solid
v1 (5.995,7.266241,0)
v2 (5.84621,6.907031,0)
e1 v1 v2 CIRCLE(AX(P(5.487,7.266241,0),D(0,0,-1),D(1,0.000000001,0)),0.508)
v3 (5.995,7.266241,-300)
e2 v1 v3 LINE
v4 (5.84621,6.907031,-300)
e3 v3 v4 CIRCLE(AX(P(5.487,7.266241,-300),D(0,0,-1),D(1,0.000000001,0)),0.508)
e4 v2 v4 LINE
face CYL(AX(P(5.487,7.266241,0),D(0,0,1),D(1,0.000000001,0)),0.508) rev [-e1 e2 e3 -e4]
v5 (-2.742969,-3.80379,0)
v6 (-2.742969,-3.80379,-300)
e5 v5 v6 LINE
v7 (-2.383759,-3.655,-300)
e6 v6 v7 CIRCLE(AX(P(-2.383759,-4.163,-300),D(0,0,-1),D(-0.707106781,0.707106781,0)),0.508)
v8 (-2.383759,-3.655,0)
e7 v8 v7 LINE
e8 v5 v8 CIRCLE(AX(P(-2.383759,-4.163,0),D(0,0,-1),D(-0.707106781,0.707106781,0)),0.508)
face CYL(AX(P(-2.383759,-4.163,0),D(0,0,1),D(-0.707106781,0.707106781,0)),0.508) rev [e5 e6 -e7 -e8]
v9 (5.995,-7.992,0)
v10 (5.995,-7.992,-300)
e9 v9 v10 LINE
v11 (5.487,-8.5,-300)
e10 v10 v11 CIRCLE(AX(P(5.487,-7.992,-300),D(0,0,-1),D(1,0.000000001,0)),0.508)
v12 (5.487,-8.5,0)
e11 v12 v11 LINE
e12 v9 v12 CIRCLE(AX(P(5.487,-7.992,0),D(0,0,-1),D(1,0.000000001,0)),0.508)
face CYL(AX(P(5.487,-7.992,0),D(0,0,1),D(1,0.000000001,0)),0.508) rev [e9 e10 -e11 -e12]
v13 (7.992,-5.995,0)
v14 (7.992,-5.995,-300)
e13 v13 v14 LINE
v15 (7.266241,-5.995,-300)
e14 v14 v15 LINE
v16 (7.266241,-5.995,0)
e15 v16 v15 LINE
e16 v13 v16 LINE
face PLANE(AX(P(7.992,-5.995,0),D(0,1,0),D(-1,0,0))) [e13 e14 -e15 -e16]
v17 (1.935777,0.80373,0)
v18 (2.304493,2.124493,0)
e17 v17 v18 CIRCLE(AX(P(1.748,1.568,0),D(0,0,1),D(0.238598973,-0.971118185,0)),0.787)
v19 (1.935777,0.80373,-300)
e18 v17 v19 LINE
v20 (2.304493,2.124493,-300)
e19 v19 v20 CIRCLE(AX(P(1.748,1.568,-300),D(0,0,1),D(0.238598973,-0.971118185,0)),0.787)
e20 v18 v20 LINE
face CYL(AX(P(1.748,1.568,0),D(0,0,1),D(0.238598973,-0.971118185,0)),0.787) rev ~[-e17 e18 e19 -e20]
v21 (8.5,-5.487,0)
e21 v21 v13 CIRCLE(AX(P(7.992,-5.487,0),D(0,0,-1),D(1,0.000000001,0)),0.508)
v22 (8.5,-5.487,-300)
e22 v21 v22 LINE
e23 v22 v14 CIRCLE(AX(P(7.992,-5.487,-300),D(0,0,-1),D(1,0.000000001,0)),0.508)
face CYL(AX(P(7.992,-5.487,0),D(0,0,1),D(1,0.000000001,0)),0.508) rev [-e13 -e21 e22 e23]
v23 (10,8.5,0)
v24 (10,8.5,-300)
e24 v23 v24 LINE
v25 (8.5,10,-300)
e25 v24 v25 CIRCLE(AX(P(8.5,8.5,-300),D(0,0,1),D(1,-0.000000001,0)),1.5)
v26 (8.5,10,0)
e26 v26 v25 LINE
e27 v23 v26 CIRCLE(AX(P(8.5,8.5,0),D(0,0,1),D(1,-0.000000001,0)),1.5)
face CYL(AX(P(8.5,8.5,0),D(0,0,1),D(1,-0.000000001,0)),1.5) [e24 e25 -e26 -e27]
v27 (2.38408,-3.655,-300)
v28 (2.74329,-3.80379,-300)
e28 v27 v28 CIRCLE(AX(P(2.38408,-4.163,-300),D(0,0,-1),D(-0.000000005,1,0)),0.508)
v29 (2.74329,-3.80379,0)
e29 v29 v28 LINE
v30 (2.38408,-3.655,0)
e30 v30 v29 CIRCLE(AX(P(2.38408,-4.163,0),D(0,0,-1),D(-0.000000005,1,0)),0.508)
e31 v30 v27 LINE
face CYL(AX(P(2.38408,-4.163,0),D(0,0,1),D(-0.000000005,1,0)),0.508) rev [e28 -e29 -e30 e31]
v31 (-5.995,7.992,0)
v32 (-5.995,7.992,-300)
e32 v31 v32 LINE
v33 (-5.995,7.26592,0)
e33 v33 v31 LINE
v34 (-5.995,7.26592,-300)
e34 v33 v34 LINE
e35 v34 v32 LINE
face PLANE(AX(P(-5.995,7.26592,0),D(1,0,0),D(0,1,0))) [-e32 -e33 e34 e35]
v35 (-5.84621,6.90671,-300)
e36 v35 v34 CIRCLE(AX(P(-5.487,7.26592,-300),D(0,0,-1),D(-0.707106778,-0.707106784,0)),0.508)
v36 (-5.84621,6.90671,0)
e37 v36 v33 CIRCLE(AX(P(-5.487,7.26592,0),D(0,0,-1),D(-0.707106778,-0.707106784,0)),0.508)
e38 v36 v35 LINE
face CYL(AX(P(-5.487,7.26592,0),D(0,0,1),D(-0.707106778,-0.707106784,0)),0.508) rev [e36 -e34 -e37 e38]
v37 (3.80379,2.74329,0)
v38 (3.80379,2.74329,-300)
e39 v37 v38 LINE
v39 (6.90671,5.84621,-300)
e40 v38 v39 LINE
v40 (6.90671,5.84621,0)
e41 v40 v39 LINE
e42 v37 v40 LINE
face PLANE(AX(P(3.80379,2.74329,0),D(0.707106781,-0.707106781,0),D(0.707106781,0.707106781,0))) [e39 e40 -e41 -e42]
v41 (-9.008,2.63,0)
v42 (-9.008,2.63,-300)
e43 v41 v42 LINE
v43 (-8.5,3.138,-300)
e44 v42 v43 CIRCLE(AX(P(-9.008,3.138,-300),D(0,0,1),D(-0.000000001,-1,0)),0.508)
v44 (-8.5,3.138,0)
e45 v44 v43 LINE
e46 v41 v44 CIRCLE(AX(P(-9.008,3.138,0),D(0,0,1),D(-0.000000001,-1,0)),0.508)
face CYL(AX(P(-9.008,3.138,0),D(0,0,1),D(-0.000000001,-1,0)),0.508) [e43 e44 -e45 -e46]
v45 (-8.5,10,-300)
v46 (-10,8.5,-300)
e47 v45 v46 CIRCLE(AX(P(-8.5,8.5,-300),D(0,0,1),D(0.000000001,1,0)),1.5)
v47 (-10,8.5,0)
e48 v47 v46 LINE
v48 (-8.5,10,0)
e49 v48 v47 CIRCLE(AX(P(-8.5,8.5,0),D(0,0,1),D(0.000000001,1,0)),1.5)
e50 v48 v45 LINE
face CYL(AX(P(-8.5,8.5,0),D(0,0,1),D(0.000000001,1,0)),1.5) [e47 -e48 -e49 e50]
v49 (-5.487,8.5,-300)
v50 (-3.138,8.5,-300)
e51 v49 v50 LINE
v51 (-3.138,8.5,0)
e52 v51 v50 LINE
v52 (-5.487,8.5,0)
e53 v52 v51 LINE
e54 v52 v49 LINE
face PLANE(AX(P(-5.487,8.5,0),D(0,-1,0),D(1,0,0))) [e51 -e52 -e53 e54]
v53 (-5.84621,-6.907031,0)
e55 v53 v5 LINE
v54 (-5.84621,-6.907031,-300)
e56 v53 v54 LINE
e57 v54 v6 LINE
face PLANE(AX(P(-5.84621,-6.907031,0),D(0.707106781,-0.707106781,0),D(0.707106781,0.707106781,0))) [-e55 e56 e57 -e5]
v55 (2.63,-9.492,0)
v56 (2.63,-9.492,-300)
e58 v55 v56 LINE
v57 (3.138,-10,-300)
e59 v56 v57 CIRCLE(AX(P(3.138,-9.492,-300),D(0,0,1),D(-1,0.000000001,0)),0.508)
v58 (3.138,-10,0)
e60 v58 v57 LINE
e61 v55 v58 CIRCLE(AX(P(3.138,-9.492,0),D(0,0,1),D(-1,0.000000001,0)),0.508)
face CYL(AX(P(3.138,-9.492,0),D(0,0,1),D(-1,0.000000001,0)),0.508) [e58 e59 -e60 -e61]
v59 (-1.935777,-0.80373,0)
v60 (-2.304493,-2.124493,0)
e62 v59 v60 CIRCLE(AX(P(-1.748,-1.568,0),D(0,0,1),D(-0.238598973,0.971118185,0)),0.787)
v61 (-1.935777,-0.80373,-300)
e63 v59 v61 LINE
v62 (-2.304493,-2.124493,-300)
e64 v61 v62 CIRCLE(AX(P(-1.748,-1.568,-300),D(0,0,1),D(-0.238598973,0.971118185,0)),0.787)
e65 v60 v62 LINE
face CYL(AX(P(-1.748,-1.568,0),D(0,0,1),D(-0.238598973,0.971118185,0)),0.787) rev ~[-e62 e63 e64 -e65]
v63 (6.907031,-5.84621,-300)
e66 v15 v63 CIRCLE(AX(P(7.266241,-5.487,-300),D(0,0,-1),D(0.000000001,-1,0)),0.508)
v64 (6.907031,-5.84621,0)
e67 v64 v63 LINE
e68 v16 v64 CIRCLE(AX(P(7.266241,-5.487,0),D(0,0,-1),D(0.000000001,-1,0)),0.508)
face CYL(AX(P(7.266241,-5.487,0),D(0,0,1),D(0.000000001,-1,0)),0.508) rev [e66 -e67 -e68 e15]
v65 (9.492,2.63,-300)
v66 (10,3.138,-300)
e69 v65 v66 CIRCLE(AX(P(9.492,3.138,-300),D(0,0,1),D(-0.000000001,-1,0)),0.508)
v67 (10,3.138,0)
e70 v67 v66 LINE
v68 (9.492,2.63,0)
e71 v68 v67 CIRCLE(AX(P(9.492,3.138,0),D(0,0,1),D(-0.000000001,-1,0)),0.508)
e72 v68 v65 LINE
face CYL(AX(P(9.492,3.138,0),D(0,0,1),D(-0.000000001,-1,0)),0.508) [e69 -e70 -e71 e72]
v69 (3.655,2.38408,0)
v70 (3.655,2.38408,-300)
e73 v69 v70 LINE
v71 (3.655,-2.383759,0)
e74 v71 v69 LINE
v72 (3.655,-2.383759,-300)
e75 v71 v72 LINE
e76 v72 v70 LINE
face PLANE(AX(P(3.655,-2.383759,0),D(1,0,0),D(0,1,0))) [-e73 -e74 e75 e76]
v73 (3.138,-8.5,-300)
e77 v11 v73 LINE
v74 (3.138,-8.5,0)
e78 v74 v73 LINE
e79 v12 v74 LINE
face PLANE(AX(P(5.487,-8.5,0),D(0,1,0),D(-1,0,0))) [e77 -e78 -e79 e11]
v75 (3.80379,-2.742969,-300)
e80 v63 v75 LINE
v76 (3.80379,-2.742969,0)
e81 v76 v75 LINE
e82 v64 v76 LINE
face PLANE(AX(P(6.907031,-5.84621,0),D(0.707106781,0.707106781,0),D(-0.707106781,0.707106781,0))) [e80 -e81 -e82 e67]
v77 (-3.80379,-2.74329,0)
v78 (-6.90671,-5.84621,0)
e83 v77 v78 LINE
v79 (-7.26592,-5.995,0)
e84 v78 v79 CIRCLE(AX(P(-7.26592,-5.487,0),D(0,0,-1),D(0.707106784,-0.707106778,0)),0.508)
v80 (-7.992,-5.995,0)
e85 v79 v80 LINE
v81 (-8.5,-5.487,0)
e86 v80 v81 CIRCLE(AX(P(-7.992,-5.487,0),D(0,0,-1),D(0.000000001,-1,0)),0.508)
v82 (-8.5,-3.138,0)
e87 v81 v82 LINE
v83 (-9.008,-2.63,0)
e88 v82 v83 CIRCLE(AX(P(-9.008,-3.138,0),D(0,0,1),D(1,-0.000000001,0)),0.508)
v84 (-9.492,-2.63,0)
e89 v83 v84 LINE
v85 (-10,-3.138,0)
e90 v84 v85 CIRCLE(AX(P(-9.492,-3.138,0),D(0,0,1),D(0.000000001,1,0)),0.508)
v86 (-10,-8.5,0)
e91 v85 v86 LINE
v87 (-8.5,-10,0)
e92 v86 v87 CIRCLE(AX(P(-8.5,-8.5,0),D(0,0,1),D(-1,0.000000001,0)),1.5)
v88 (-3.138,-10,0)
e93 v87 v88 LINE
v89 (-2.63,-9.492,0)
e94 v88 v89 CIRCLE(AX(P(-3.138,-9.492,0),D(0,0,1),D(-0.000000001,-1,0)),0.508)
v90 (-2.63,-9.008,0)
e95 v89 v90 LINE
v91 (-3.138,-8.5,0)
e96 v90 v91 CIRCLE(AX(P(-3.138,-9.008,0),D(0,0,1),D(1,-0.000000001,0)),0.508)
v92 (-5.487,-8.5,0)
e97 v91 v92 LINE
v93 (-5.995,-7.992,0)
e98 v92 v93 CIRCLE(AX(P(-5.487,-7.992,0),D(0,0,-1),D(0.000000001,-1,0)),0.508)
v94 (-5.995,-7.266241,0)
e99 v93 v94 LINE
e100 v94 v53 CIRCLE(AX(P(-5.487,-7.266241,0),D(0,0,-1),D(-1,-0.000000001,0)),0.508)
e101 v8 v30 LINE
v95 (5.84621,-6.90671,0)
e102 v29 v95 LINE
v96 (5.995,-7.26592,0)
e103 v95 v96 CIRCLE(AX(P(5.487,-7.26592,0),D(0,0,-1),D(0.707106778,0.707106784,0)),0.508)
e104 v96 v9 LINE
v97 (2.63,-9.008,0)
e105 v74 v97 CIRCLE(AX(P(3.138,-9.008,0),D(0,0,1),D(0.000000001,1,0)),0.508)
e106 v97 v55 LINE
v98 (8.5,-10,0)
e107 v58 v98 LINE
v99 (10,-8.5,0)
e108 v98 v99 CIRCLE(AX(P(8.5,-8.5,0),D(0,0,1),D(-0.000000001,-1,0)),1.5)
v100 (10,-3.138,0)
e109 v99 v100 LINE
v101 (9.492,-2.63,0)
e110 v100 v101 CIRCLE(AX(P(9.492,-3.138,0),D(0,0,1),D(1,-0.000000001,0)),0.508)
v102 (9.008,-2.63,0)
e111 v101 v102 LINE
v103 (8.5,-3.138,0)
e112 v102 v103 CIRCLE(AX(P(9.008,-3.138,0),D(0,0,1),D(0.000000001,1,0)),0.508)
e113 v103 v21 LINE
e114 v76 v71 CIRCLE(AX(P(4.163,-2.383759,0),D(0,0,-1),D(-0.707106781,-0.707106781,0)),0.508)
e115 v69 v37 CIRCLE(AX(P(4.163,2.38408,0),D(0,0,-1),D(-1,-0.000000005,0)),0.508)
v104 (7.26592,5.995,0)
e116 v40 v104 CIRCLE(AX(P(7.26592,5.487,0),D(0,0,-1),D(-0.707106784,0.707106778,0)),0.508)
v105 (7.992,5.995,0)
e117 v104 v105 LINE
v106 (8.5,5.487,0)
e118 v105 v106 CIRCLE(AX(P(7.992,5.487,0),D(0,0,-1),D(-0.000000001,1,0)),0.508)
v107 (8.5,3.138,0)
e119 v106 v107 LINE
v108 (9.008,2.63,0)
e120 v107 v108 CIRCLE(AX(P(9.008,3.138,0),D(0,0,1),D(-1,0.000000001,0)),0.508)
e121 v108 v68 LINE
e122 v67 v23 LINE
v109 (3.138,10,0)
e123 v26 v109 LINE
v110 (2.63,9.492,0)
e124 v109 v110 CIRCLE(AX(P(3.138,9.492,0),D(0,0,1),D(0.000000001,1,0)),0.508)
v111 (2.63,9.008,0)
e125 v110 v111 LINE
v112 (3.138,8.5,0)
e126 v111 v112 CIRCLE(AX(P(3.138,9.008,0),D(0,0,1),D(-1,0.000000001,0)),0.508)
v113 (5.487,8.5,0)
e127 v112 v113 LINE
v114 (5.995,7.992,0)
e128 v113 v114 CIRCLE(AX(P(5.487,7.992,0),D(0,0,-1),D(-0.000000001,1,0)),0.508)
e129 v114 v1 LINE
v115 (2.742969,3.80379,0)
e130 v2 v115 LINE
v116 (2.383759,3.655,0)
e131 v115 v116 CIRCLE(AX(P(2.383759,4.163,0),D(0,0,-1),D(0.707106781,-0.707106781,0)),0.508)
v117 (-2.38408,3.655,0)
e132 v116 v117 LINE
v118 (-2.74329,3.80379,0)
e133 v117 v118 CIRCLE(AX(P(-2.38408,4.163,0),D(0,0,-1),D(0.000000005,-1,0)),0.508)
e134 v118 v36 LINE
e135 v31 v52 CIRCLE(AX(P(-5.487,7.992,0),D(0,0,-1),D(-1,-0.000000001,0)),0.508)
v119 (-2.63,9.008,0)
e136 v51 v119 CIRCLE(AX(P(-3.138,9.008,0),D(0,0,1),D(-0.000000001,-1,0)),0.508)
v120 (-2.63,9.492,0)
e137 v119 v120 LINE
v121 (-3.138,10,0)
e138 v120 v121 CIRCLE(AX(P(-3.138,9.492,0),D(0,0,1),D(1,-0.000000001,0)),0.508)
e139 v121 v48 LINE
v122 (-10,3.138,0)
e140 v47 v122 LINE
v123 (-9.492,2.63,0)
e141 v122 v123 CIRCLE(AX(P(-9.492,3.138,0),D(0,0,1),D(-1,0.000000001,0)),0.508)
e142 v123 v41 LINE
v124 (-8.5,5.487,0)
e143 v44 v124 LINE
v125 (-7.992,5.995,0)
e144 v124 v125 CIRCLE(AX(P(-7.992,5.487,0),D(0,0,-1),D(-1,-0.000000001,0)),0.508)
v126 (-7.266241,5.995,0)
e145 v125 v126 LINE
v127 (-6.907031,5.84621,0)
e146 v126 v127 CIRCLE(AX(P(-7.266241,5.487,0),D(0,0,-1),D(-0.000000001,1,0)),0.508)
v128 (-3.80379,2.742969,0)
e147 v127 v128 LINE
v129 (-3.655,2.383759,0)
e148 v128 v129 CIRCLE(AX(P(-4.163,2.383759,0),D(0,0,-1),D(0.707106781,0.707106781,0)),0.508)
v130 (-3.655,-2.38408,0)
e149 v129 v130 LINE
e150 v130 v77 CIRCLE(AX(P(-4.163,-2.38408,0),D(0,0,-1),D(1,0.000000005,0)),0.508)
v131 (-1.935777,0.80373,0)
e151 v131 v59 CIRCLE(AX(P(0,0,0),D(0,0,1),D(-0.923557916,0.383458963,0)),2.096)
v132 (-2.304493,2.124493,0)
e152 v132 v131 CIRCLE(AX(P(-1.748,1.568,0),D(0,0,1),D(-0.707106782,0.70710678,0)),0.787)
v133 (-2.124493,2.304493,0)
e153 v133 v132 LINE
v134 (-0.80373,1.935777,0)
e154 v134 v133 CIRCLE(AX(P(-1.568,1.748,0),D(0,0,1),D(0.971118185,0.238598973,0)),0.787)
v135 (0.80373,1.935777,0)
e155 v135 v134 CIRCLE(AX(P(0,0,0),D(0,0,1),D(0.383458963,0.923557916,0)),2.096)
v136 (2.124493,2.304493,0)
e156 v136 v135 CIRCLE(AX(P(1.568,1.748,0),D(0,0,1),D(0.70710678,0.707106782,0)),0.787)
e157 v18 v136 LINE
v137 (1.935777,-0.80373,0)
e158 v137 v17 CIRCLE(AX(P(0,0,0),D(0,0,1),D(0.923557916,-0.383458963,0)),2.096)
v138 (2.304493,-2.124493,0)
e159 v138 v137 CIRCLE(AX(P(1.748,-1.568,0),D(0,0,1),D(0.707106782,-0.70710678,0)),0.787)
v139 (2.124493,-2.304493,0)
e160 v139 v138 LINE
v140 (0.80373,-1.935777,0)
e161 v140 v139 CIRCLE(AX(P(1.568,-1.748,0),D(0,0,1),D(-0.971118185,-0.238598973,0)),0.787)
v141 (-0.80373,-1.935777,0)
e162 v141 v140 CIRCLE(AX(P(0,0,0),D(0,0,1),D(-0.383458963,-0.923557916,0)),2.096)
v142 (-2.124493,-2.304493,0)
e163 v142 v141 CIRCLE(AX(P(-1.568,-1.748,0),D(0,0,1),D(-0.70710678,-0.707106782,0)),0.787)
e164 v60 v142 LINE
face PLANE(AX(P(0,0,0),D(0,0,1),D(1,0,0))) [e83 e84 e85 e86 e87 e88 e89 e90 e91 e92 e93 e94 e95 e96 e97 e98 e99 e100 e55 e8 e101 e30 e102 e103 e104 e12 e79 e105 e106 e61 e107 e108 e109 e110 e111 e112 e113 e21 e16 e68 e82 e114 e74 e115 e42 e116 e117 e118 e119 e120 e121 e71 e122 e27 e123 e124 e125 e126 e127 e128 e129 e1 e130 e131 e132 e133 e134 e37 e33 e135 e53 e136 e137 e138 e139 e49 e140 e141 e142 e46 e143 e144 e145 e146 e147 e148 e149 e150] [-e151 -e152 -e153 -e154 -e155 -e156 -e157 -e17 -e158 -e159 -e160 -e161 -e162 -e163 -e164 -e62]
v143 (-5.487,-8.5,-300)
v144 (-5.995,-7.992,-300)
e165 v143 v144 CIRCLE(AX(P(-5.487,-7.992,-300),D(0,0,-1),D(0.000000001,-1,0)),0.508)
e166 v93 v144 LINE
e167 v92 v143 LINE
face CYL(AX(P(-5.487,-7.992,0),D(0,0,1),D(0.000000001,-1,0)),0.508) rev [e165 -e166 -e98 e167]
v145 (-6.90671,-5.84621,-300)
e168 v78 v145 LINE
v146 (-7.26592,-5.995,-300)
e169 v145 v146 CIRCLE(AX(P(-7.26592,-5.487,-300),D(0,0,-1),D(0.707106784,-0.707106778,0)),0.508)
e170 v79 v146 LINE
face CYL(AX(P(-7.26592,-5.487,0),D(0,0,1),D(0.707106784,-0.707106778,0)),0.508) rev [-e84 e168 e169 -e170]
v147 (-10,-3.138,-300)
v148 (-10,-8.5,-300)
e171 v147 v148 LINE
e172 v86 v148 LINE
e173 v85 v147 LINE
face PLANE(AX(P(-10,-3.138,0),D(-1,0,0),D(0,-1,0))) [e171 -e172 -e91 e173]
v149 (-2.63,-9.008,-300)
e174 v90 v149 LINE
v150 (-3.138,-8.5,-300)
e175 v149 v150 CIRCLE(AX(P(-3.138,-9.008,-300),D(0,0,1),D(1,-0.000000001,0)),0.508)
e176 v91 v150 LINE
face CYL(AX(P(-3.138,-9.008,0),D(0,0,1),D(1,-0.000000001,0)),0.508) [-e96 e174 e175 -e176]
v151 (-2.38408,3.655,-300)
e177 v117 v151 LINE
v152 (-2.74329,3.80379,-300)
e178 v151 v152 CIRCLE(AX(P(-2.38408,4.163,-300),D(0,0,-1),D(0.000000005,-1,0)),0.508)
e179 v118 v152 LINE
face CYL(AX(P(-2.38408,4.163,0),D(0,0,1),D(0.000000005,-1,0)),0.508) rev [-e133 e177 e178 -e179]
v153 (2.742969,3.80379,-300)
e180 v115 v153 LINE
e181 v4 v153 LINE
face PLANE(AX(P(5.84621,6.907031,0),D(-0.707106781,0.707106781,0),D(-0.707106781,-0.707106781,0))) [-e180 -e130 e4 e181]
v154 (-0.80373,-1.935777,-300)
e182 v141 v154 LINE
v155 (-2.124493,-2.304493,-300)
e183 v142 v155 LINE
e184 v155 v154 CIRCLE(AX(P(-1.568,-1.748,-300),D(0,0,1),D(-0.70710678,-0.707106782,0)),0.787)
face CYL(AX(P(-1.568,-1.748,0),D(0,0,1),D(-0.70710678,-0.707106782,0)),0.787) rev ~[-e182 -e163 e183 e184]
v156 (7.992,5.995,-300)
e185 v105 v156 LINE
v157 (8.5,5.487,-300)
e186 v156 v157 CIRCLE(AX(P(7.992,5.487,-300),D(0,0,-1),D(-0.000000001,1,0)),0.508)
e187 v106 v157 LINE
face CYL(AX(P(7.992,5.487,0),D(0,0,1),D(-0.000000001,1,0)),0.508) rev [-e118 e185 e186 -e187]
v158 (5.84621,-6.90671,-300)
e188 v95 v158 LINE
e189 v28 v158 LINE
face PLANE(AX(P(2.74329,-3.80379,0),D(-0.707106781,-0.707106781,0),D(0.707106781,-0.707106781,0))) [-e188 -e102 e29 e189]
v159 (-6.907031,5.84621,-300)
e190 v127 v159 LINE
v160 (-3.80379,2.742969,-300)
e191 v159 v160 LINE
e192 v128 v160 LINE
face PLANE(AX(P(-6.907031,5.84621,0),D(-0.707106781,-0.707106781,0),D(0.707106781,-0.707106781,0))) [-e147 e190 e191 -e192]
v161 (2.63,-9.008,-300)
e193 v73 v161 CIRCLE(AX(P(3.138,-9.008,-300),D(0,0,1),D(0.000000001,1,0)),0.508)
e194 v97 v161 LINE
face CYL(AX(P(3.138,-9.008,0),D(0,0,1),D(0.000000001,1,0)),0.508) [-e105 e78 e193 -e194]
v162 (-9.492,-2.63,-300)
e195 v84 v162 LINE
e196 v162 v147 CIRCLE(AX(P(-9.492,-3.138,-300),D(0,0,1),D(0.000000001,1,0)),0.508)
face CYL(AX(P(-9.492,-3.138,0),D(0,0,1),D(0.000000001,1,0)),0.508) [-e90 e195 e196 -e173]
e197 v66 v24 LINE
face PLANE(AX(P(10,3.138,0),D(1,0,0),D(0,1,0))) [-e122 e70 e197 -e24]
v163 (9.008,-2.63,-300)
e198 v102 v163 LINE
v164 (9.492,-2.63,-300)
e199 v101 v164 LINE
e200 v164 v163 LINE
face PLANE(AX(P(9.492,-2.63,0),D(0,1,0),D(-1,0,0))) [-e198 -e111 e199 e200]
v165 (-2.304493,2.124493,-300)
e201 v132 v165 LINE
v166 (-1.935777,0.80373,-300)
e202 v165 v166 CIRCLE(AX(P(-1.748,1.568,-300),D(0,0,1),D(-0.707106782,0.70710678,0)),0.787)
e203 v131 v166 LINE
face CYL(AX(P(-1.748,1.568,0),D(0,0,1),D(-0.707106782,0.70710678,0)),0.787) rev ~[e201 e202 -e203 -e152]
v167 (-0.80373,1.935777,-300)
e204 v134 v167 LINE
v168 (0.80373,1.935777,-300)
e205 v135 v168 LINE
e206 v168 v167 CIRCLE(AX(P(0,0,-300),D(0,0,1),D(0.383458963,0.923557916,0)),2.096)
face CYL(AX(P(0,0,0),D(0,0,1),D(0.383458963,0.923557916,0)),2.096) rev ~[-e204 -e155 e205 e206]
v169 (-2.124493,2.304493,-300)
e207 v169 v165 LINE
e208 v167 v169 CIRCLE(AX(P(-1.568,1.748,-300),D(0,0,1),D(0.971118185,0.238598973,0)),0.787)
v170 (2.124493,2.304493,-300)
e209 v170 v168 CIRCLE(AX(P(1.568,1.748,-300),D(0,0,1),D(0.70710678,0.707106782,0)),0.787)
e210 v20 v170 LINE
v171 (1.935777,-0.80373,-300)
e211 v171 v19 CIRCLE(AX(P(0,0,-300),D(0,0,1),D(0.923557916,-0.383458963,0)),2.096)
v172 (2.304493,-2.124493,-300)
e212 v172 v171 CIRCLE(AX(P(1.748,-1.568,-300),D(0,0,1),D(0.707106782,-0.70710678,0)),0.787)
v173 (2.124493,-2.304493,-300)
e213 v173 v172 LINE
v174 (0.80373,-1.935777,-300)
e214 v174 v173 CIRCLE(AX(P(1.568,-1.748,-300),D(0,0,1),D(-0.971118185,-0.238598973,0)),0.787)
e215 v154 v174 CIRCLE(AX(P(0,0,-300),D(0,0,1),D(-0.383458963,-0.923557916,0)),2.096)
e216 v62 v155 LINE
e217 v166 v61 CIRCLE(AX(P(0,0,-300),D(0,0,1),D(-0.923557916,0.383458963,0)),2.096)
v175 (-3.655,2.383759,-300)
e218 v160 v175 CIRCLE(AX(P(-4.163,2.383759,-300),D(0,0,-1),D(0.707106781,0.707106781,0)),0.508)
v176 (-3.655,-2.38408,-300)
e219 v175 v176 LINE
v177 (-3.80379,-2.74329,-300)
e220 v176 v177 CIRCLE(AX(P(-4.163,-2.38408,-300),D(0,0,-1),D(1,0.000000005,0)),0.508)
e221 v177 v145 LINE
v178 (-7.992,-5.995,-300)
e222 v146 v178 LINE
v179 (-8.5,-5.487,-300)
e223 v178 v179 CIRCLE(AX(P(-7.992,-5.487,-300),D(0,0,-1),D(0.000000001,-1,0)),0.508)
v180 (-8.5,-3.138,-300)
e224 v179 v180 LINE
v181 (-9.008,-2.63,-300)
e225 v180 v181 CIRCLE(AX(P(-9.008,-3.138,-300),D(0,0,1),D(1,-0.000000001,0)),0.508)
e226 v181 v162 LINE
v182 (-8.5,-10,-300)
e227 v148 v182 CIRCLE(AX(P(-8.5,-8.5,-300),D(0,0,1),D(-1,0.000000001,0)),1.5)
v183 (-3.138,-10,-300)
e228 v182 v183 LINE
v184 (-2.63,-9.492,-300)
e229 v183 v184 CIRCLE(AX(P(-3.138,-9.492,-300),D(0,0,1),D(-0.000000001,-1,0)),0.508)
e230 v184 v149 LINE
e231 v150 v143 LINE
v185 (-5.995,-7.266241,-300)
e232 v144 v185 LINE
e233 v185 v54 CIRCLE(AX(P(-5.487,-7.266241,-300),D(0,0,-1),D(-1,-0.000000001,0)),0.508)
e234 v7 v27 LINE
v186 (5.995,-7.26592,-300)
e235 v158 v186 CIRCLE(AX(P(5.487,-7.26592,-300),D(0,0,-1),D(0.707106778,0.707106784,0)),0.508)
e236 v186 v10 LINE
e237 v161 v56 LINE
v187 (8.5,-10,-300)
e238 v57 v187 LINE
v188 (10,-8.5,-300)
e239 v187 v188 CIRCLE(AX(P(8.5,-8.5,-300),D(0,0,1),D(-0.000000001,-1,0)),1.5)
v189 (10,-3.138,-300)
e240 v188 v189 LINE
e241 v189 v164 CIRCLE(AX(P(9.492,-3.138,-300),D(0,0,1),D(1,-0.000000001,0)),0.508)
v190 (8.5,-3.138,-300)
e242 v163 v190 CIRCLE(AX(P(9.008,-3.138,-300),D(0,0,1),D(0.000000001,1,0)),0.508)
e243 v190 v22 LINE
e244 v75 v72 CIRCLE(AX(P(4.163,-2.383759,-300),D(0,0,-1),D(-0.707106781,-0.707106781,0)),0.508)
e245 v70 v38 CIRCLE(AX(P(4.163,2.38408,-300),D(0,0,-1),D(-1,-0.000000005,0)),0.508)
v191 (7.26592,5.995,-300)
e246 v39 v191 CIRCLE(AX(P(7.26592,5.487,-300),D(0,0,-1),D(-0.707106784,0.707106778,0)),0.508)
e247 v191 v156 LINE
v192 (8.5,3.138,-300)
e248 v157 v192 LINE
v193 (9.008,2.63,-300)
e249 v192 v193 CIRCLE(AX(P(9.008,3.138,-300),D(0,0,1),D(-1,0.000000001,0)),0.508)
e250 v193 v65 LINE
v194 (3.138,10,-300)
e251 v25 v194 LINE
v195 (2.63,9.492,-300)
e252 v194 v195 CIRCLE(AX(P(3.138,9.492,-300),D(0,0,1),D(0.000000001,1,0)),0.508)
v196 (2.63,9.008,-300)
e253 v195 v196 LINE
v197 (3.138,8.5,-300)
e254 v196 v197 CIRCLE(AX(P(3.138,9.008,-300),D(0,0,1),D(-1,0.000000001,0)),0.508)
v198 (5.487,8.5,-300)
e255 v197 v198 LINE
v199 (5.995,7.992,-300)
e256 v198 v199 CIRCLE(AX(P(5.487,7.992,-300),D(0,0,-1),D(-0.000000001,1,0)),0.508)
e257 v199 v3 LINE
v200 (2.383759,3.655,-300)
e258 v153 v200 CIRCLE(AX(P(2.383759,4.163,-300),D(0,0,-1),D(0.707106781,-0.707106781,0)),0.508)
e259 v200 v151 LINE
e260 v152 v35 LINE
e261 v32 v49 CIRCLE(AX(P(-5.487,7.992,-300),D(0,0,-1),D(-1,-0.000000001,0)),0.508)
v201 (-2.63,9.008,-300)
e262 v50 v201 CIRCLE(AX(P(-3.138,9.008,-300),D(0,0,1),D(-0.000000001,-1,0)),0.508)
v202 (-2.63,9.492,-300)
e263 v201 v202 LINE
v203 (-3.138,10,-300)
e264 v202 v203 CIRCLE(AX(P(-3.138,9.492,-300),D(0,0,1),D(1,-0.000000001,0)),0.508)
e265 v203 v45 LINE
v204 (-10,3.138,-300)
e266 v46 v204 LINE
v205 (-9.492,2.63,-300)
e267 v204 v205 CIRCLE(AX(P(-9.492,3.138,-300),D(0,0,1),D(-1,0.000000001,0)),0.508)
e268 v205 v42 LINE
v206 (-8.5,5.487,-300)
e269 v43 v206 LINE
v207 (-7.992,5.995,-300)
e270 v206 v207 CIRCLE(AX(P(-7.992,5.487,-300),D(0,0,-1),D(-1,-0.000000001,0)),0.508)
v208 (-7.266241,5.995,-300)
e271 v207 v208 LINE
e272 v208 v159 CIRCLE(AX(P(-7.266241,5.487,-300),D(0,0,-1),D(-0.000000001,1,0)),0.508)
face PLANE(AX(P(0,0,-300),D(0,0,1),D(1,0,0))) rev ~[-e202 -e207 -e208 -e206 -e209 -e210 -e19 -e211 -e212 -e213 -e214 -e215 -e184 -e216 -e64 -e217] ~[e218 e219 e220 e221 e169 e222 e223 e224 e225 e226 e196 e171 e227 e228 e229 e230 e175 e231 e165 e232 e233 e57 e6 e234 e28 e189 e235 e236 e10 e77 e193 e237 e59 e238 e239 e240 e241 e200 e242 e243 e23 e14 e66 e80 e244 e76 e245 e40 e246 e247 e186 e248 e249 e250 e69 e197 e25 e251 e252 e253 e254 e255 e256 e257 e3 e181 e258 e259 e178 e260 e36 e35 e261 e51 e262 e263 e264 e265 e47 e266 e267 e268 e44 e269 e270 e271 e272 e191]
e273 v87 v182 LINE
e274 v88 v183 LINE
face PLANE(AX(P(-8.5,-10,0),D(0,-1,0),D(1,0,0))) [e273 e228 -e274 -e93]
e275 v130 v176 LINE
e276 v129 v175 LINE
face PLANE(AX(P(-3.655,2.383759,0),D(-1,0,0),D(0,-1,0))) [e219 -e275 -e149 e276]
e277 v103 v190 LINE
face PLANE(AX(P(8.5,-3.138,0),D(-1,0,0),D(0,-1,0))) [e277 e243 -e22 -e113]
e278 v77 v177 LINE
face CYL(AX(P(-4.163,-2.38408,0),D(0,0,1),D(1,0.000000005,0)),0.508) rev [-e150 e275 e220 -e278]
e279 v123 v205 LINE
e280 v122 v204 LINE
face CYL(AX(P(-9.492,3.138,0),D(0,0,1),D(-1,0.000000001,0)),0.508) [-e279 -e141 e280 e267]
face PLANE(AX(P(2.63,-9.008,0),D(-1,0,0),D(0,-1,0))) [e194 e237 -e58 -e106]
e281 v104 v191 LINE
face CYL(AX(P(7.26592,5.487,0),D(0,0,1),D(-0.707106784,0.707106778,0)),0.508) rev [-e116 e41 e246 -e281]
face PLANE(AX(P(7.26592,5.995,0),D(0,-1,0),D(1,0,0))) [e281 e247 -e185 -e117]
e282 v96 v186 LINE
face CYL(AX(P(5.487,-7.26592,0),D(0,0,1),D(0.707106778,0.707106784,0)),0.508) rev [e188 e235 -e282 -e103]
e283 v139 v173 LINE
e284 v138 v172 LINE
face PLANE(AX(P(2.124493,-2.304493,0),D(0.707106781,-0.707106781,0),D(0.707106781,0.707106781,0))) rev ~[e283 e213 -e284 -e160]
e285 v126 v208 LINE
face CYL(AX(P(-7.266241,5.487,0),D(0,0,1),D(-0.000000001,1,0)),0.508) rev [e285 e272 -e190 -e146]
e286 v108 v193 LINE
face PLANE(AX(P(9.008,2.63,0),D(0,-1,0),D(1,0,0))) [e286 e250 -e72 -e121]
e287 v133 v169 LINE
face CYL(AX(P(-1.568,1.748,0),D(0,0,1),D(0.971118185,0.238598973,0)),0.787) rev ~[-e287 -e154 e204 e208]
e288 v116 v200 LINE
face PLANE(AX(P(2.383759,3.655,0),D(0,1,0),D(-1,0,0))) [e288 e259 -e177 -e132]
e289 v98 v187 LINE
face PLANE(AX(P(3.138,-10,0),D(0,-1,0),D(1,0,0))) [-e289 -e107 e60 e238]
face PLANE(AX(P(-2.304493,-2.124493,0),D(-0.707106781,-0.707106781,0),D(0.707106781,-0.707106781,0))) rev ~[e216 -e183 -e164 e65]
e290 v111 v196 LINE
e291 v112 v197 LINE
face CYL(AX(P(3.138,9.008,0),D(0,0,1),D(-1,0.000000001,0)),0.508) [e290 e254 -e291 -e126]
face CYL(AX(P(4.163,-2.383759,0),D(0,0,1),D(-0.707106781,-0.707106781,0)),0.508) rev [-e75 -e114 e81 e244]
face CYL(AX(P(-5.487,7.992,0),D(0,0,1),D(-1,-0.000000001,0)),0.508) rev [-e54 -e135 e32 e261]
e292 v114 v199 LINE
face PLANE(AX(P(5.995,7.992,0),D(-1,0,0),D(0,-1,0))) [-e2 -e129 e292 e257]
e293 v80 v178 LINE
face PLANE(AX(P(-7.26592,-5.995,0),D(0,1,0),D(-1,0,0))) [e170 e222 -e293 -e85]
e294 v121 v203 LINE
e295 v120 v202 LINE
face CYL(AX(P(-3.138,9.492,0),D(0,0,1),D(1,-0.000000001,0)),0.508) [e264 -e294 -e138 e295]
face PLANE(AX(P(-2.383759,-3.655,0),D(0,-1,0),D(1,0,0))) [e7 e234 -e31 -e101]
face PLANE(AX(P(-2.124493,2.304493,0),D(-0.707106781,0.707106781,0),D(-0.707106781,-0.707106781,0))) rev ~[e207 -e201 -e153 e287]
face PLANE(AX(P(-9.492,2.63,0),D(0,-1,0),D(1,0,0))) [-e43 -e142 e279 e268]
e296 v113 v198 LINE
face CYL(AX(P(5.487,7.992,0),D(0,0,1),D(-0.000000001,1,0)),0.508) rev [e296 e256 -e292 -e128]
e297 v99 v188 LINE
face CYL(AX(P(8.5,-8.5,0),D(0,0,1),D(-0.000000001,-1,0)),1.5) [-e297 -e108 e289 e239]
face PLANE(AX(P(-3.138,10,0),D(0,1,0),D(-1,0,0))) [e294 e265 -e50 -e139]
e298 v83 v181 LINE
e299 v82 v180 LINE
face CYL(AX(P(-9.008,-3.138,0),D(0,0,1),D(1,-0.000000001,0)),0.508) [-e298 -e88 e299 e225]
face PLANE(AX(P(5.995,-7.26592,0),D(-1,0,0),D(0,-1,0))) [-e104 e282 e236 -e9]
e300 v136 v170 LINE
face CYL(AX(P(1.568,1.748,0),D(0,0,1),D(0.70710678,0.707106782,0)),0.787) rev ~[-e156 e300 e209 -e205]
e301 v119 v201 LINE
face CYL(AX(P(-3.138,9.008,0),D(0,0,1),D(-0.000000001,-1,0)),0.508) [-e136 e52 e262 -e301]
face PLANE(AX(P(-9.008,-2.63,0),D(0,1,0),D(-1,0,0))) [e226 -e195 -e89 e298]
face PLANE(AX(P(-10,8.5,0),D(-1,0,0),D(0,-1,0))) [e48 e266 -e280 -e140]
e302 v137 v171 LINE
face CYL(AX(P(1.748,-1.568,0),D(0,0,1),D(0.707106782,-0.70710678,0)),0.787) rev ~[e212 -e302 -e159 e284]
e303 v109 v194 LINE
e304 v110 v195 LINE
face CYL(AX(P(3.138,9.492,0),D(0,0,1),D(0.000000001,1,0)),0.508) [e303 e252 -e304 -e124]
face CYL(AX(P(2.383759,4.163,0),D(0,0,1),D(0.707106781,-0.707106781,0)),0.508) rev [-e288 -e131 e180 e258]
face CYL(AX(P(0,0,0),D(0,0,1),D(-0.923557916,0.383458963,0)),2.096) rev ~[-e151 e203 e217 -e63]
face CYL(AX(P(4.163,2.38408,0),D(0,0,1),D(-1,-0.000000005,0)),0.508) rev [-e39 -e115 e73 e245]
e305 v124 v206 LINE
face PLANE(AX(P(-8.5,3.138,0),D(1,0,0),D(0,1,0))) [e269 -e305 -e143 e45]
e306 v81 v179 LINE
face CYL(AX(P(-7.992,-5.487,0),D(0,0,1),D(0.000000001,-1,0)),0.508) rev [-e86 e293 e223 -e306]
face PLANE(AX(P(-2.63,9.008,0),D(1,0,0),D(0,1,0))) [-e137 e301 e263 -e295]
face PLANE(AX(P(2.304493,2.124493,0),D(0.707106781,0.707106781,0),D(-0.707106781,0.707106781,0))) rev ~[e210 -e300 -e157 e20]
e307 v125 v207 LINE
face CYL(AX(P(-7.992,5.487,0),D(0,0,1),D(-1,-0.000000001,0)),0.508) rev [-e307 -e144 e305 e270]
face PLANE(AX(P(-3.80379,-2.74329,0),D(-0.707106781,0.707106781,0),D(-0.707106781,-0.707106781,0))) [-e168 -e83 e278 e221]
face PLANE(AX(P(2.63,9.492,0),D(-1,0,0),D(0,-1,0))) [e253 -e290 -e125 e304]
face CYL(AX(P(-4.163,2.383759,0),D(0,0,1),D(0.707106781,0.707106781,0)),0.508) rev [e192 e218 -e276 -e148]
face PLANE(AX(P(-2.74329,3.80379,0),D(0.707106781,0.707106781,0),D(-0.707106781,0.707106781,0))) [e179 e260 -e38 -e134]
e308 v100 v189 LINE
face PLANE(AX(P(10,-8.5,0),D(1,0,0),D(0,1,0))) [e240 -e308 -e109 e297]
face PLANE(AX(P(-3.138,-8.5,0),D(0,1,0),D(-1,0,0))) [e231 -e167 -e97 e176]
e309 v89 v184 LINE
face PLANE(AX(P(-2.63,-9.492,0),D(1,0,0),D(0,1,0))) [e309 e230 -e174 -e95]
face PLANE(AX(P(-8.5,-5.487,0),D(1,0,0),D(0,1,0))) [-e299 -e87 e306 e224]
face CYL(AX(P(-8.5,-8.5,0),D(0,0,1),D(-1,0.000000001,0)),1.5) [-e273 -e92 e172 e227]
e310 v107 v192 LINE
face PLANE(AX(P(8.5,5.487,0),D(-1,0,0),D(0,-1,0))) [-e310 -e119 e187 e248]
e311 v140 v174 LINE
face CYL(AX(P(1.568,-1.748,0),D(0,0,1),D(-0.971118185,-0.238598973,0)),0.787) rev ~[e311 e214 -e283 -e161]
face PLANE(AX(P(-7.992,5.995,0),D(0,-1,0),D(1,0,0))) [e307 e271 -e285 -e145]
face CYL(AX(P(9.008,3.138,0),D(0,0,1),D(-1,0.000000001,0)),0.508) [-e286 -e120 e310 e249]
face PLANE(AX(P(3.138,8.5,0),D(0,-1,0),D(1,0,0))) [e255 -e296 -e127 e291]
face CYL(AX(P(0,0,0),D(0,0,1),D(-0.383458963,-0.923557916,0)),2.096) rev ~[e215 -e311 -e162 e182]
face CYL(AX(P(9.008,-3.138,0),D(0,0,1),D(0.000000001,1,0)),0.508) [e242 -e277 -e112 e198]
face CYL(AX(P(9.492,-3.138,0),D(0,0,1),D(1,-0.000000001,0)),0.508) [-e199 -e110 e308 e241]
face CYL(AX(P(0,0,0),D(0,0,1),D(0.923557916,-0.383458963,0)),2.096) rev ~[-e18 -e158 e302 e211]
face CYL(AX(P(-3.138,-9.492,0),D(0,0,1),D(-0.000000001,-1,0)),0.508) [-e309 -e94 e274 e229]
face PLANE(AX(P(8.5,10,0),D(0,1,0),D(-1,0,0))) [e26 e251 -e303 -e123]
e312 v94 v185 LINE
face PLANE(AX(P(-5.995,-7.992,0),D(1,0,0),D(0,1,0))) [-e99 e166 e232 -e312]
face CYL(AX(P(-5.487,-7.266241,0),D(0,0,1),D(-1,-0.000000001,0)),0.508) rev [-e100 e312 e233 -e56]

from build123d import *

# Parameters (mm, degrees)
BOSS_EXTRUDE1_DEPTH = 300


with BuildPart() as part:
    # Sketch2 → Boss-Extrude1 (new body)
    with BuildSketch(Plane.XY):
        with BuildLine():
            Line((-10, -3.138), (-10, -8.5))
            ThreePointArc((-10, -8.5), (-9.560660172, -9.560660172), (-8.5, -10))
            Line((-8.5, -10), (-3.138, -10))
            ThreePointArc((-3.138, -10), (-2.778789755, -9.851210245), (-2.63, -9.492))
            Line((-2.63, -9.492), (-2.63, -9.008))
            ThreePointArc((-2.63, -9.008), (-2.778789755, -8.648789755), (-3.138, -8.5))
            Line((-3.138, -8.5), (-5.487, -8.5))
            ThreePointArc((-5.487, -8.5), (-5.846210245, -8.351210245), (-5.995, -7.992))
            Line((-5.995, -7.992), (-5.995, -7.266240833))
            ThreePointArc((-5.995, -7.266240833), (-5.956330803, -7.07183765), (-5.846210245, -6.907030588))
            Line((-5.846210245, -6.907030588), (-2.742969412, -3.803789755))
            ThreePointArc((-2.742969412, -3.803789755), (-2.57816235, -3.693669197), (-2.383759167, -3.655))
            Line((-2.383759167, -3.655), (2.38407951, -3.655))
            ThreePointArc((2.38407951, -3.655), (2.578482694, -3.693669197), (2.743289755, -3.803789755))
            Line((2.743289755, -3.803789755), (5.846210245, -6.906710245))
            ThreePointArc((5.846210245, -6.906710245), (5.956330803, -7.071517306), (5.995, -7.26592049))
            Line((5.995, -7.26592049), (5.995, -7.992))
            ThreePointArc((5.995, -7.992), (5.846210245, -8.351210245), (5.487, -8.5))
            Line((5.487, -8.5), (3.138, -8.5))
            ThreePointArc((3.138, -8.5), (2.778789755, -8.648789755), (2.63, -9.008))
            Line((2.63, -9.008), (2.63, -9.492))
            ThreePointArc((2.63, -9.492), (2.778789755, -9.851210245), (3.138, -10))
            Line((3.138, -10), (8.5, -10))
            ThreePointArc((8.5, -10), (9.560660172, -9.560660172), (10, -8.5))
            Line((10, -8.5), (10, -3.138))
            ThreePointArc((10, -3.138), (9.851210245, -2.778789755), (9.492, -2.63))
            Line((9.492, -2.63), (9.008, -2.63))
            ThreePointArc((9.008, -2.63), (8.648789755, -2.778789755), (8.5, -3.138))
            Line((8.5, -3.138), (8.5, -5.487))
            ThreePointArc((8.5, -5.487), (8.351210245, -5.846210245), (7.992, -5.995))
            Line((7.992, -5.995), (7.266240833, -5.995))
            ThreePointArc((7.266240833, -5.995), (7.07183765, -5.956330803), (6.907030588, -5.846210245))
            Line((6.907030588, -5.846210245), (3.803789755, -2.742969412))
            ThreePointArc((3.803789755, -2.742969412), (3.693669197, -2.57816235), (3.655, -2.383759167))
            Line((3.655, -2.383759167), (3.655, 2.38407951))
            ThreePointArc((3.655, 2.38407951), (3.693669197, 2.578482694), (3.803789755, 2.743289755))
            Line((3.803789755, 2.743289755), (6.906710245, 5.846210245))
            ThreePointArc((6.906710245, 5.846210245), (7.071517306, 5.956330803), (7.26592049, 5.995))
            Line((7.26592049, 5.995), (7.992, 5.995))
            ThreePointArc((7.992, 5.995), (8.351210245, 5.846210245), (8.5, 5.487))
            Line((8.5, 5.487), (8.5, 3.138))
            ThreePointArc((8.5, 3.138), (8.648789755, 2.778789755), (9.008, 2.63))
            Line((9.008, 2.63), (9.492, 2.63))
            ThreePointArc((9.492, 2.63), (9.851210245, 2.778789755), (10, 3.138))
            Line((10, 3.138), (10, 8.5))
            ThreePointArc((10, 8.5), (9.560660172, 9.560660172), (8.5, 10))
            Line((8.5, 10), (3.138, 10))
            ThreePointArc((3.138, 10), (2.778789755, 9.851210245), (2.63, 9.492))
            Line((2.63, 9.492), (2.63, 9.008))
            ThreePointArc((2.63, 9.008), (2.778789755, 8.648789755), (3.138, 8.5))
            Line((3.138, 8.5), (5.487, 8.5))
            ThreePointArc((5.487, 8.5), (5.846210245, 8.351210245), (5.995, 7.992))
            Line((5.995, 7.992), (5.995, 7.266240833))
            ThreePointArc((5.995, 7.266240833), (5.956330803, 7.07183765), (5.846210245, 6.907030588))
            Line((5.846210245, 6.907030588), (2.742969412, 3.803789755))
            ThreePointArc((2.742969412, 3.803789755), (2.57816235, 3.693669197), (2.383759167, 3.655))
            Line((2.383759167, 3.655), (-2.38407951, 3.655))
            ThreePointArc((-2.38407951, 3.655), (-2.578482694, 3.693669197), (-2.743289755, 3.803789755))
            Line((-2.743289755, 3.803789755), (-5.846210245, 6.906710245))
            ThreePointArc((-5.846210245, 6.906710245), (-5.956330803, 7.071517306), (-5.995, 7.26592049))
            Line((-5.995, 7.26592049), (-5.995, 7.992))
            ThreePointArc((-5.995, 7.992), (-5.846210245, 8.351210245), (-5.487, 8.5))
            Line((-5.487, 8.5), (-3.138, 8.5))
            ThreePointArc((-3.138, 8.5), (-2.778789755, 8.648789755), (-2.63, 9.008))
            Line((-2.63, 9.008), (-2.63, 9.492))
            ThreePointArc((-2.63, 9.492), (-2.778789755, 9.851210245), (-3.138, 10))
            Line((-3.138, 10), (-8.5, 10))
            ThreePointArc((-8.5, 10), (-9.560660172, 9.560660172), (-10, 8.5))
            Line((-10, 8.5), (-10, 3.138))
            ThreePointArc((-10, 3.138), (-9.851210245, 2.778789755), (-9.492, 2.63))
            Line((-9.492, 2.63), (-9.008, 2.63))
            ThreePointArc((-9.008, 2.63), (-8.648789755, 2.778789755), (-8.5, 3.138))
            Line((-8.5, 3.138), (-8.5, 5.487))
            ThreePointArc((-8.5, 5.487), (-8.351210245, 5.846210245), (-7.992, 5.995))
            Line((-7.992, 5.995), (-7.266240833, 5.995))
            ThreePointArc((-7.266240833, 5.995), (-7.07183765, 5.956330803), (-6.907030588, 5.846210245))
            Line((-6.907030588, 5.846210245), (-3.803789755, 2.742969412))
            ThreePointArc((-3.803789755, 2.742969412), (-3.693669197, 2.57816235), (-3.655, 2.383759167))
            Line((-3.655, 2.383759167), (-3.655, -2.38407951))
            ThreePointArc((-3.655, -2.38407951), (-3.693669197, -2.578482694), (-3.803789755, -2.743289755))
            Line((-3.803789755, -2.743289755), (-6.906710245, -5.846210245))
            ThreePointArc((-6.906710245, -5.846210245), (-7.071517306, -5.956330803), (-7.26592049, -5.995))
            Line((-7.26592049, -5.995), (-7.992, -5.995))
            ThreePointArc((-7.992, -5.995), (-8.351210245, -5.846210245), (-8.5, -5.487))
            Line((-8.5, -5.487), (-8.5, -3.138))
            ThreePointArc((-8.5, -3.138), (-8.648789755, -2.778789755), (-9.008, -2.63))
            Line((-9.008, -2.63), (-9.492, -2.63))
            ThreePointArc((-9.492, -2.63), (-9.851210245, -2.778789755), (-10, -3.138))
        make_face()
        with BuildLine():
            Line((-2.124493037, 2.304493037), (-2.304493037, 2.124493037))
            ThreePointArc((-2.304493037, 2.124493037), (-2.506016078, 1.35638567), (-1.935777391, 0.803729988))
            ThreePointArc((-1.935777391, 0.803729988), (-2.096, 0), (-1.935777391, -0.803729988))
            ThreePointArc((-1.935777391, -0.803729988), (-2.506016078, -1.35638567), (-2.304493037, -2.124493037))
            Line((-2.304493037, -2.124493037), (-2.124493037, -2.304493037))
            ThreePointArc((-2.124493037, -2.304493037), (-1.35638567, -2.506016078), (-0.803729988, -1.935777391))
            ThreePointArc((-0.803729988, -1.935777391), (0, -2.096), (0.803729988, -1.935777391))
            ThreePointArc((0.803729988, -1.935777391), (1.35638567, -2.506016078), (2.124493037, -2.304493037))
            Line((2.124493037, -2.304493037), (2.304493037, -2.124493037))
            ThreePointArc((2.304493037, -2.124493037), (2.506016078, -1.35638567), (1.935777391, -0.803729988))
            ThreePointArc((1.935777391, -0.803729988), (2.096, 0), (1.935777391, 0.803729988))
            ThreePointArc((1.935777391, 0.803729988), (2.506016078, 1.35638567), (2.304493037, 2.124493037))
            Line((2.304493037, 2.124493037), (2.124493037, 2.304493037))
            ThreePointArc((2.124493037, 2.304493037), (1.35638567, 2.506016078), (0.803729988, 1.935777391))
            ThreePointArc((0.803729988, 1.935777391), (0, 2.096), (-0.803729988, 1.935777391))
            ThreePointArc((-0.803729988, 1.935777391), (-1.35638567, 2.506016078), (-2.124493037, 2.304493037))
        make_face(mode=Mode.SUBTRACT)
    extrude(amount=-BOSS_EXTRUDE1_DEPTH)


solid = part.part
